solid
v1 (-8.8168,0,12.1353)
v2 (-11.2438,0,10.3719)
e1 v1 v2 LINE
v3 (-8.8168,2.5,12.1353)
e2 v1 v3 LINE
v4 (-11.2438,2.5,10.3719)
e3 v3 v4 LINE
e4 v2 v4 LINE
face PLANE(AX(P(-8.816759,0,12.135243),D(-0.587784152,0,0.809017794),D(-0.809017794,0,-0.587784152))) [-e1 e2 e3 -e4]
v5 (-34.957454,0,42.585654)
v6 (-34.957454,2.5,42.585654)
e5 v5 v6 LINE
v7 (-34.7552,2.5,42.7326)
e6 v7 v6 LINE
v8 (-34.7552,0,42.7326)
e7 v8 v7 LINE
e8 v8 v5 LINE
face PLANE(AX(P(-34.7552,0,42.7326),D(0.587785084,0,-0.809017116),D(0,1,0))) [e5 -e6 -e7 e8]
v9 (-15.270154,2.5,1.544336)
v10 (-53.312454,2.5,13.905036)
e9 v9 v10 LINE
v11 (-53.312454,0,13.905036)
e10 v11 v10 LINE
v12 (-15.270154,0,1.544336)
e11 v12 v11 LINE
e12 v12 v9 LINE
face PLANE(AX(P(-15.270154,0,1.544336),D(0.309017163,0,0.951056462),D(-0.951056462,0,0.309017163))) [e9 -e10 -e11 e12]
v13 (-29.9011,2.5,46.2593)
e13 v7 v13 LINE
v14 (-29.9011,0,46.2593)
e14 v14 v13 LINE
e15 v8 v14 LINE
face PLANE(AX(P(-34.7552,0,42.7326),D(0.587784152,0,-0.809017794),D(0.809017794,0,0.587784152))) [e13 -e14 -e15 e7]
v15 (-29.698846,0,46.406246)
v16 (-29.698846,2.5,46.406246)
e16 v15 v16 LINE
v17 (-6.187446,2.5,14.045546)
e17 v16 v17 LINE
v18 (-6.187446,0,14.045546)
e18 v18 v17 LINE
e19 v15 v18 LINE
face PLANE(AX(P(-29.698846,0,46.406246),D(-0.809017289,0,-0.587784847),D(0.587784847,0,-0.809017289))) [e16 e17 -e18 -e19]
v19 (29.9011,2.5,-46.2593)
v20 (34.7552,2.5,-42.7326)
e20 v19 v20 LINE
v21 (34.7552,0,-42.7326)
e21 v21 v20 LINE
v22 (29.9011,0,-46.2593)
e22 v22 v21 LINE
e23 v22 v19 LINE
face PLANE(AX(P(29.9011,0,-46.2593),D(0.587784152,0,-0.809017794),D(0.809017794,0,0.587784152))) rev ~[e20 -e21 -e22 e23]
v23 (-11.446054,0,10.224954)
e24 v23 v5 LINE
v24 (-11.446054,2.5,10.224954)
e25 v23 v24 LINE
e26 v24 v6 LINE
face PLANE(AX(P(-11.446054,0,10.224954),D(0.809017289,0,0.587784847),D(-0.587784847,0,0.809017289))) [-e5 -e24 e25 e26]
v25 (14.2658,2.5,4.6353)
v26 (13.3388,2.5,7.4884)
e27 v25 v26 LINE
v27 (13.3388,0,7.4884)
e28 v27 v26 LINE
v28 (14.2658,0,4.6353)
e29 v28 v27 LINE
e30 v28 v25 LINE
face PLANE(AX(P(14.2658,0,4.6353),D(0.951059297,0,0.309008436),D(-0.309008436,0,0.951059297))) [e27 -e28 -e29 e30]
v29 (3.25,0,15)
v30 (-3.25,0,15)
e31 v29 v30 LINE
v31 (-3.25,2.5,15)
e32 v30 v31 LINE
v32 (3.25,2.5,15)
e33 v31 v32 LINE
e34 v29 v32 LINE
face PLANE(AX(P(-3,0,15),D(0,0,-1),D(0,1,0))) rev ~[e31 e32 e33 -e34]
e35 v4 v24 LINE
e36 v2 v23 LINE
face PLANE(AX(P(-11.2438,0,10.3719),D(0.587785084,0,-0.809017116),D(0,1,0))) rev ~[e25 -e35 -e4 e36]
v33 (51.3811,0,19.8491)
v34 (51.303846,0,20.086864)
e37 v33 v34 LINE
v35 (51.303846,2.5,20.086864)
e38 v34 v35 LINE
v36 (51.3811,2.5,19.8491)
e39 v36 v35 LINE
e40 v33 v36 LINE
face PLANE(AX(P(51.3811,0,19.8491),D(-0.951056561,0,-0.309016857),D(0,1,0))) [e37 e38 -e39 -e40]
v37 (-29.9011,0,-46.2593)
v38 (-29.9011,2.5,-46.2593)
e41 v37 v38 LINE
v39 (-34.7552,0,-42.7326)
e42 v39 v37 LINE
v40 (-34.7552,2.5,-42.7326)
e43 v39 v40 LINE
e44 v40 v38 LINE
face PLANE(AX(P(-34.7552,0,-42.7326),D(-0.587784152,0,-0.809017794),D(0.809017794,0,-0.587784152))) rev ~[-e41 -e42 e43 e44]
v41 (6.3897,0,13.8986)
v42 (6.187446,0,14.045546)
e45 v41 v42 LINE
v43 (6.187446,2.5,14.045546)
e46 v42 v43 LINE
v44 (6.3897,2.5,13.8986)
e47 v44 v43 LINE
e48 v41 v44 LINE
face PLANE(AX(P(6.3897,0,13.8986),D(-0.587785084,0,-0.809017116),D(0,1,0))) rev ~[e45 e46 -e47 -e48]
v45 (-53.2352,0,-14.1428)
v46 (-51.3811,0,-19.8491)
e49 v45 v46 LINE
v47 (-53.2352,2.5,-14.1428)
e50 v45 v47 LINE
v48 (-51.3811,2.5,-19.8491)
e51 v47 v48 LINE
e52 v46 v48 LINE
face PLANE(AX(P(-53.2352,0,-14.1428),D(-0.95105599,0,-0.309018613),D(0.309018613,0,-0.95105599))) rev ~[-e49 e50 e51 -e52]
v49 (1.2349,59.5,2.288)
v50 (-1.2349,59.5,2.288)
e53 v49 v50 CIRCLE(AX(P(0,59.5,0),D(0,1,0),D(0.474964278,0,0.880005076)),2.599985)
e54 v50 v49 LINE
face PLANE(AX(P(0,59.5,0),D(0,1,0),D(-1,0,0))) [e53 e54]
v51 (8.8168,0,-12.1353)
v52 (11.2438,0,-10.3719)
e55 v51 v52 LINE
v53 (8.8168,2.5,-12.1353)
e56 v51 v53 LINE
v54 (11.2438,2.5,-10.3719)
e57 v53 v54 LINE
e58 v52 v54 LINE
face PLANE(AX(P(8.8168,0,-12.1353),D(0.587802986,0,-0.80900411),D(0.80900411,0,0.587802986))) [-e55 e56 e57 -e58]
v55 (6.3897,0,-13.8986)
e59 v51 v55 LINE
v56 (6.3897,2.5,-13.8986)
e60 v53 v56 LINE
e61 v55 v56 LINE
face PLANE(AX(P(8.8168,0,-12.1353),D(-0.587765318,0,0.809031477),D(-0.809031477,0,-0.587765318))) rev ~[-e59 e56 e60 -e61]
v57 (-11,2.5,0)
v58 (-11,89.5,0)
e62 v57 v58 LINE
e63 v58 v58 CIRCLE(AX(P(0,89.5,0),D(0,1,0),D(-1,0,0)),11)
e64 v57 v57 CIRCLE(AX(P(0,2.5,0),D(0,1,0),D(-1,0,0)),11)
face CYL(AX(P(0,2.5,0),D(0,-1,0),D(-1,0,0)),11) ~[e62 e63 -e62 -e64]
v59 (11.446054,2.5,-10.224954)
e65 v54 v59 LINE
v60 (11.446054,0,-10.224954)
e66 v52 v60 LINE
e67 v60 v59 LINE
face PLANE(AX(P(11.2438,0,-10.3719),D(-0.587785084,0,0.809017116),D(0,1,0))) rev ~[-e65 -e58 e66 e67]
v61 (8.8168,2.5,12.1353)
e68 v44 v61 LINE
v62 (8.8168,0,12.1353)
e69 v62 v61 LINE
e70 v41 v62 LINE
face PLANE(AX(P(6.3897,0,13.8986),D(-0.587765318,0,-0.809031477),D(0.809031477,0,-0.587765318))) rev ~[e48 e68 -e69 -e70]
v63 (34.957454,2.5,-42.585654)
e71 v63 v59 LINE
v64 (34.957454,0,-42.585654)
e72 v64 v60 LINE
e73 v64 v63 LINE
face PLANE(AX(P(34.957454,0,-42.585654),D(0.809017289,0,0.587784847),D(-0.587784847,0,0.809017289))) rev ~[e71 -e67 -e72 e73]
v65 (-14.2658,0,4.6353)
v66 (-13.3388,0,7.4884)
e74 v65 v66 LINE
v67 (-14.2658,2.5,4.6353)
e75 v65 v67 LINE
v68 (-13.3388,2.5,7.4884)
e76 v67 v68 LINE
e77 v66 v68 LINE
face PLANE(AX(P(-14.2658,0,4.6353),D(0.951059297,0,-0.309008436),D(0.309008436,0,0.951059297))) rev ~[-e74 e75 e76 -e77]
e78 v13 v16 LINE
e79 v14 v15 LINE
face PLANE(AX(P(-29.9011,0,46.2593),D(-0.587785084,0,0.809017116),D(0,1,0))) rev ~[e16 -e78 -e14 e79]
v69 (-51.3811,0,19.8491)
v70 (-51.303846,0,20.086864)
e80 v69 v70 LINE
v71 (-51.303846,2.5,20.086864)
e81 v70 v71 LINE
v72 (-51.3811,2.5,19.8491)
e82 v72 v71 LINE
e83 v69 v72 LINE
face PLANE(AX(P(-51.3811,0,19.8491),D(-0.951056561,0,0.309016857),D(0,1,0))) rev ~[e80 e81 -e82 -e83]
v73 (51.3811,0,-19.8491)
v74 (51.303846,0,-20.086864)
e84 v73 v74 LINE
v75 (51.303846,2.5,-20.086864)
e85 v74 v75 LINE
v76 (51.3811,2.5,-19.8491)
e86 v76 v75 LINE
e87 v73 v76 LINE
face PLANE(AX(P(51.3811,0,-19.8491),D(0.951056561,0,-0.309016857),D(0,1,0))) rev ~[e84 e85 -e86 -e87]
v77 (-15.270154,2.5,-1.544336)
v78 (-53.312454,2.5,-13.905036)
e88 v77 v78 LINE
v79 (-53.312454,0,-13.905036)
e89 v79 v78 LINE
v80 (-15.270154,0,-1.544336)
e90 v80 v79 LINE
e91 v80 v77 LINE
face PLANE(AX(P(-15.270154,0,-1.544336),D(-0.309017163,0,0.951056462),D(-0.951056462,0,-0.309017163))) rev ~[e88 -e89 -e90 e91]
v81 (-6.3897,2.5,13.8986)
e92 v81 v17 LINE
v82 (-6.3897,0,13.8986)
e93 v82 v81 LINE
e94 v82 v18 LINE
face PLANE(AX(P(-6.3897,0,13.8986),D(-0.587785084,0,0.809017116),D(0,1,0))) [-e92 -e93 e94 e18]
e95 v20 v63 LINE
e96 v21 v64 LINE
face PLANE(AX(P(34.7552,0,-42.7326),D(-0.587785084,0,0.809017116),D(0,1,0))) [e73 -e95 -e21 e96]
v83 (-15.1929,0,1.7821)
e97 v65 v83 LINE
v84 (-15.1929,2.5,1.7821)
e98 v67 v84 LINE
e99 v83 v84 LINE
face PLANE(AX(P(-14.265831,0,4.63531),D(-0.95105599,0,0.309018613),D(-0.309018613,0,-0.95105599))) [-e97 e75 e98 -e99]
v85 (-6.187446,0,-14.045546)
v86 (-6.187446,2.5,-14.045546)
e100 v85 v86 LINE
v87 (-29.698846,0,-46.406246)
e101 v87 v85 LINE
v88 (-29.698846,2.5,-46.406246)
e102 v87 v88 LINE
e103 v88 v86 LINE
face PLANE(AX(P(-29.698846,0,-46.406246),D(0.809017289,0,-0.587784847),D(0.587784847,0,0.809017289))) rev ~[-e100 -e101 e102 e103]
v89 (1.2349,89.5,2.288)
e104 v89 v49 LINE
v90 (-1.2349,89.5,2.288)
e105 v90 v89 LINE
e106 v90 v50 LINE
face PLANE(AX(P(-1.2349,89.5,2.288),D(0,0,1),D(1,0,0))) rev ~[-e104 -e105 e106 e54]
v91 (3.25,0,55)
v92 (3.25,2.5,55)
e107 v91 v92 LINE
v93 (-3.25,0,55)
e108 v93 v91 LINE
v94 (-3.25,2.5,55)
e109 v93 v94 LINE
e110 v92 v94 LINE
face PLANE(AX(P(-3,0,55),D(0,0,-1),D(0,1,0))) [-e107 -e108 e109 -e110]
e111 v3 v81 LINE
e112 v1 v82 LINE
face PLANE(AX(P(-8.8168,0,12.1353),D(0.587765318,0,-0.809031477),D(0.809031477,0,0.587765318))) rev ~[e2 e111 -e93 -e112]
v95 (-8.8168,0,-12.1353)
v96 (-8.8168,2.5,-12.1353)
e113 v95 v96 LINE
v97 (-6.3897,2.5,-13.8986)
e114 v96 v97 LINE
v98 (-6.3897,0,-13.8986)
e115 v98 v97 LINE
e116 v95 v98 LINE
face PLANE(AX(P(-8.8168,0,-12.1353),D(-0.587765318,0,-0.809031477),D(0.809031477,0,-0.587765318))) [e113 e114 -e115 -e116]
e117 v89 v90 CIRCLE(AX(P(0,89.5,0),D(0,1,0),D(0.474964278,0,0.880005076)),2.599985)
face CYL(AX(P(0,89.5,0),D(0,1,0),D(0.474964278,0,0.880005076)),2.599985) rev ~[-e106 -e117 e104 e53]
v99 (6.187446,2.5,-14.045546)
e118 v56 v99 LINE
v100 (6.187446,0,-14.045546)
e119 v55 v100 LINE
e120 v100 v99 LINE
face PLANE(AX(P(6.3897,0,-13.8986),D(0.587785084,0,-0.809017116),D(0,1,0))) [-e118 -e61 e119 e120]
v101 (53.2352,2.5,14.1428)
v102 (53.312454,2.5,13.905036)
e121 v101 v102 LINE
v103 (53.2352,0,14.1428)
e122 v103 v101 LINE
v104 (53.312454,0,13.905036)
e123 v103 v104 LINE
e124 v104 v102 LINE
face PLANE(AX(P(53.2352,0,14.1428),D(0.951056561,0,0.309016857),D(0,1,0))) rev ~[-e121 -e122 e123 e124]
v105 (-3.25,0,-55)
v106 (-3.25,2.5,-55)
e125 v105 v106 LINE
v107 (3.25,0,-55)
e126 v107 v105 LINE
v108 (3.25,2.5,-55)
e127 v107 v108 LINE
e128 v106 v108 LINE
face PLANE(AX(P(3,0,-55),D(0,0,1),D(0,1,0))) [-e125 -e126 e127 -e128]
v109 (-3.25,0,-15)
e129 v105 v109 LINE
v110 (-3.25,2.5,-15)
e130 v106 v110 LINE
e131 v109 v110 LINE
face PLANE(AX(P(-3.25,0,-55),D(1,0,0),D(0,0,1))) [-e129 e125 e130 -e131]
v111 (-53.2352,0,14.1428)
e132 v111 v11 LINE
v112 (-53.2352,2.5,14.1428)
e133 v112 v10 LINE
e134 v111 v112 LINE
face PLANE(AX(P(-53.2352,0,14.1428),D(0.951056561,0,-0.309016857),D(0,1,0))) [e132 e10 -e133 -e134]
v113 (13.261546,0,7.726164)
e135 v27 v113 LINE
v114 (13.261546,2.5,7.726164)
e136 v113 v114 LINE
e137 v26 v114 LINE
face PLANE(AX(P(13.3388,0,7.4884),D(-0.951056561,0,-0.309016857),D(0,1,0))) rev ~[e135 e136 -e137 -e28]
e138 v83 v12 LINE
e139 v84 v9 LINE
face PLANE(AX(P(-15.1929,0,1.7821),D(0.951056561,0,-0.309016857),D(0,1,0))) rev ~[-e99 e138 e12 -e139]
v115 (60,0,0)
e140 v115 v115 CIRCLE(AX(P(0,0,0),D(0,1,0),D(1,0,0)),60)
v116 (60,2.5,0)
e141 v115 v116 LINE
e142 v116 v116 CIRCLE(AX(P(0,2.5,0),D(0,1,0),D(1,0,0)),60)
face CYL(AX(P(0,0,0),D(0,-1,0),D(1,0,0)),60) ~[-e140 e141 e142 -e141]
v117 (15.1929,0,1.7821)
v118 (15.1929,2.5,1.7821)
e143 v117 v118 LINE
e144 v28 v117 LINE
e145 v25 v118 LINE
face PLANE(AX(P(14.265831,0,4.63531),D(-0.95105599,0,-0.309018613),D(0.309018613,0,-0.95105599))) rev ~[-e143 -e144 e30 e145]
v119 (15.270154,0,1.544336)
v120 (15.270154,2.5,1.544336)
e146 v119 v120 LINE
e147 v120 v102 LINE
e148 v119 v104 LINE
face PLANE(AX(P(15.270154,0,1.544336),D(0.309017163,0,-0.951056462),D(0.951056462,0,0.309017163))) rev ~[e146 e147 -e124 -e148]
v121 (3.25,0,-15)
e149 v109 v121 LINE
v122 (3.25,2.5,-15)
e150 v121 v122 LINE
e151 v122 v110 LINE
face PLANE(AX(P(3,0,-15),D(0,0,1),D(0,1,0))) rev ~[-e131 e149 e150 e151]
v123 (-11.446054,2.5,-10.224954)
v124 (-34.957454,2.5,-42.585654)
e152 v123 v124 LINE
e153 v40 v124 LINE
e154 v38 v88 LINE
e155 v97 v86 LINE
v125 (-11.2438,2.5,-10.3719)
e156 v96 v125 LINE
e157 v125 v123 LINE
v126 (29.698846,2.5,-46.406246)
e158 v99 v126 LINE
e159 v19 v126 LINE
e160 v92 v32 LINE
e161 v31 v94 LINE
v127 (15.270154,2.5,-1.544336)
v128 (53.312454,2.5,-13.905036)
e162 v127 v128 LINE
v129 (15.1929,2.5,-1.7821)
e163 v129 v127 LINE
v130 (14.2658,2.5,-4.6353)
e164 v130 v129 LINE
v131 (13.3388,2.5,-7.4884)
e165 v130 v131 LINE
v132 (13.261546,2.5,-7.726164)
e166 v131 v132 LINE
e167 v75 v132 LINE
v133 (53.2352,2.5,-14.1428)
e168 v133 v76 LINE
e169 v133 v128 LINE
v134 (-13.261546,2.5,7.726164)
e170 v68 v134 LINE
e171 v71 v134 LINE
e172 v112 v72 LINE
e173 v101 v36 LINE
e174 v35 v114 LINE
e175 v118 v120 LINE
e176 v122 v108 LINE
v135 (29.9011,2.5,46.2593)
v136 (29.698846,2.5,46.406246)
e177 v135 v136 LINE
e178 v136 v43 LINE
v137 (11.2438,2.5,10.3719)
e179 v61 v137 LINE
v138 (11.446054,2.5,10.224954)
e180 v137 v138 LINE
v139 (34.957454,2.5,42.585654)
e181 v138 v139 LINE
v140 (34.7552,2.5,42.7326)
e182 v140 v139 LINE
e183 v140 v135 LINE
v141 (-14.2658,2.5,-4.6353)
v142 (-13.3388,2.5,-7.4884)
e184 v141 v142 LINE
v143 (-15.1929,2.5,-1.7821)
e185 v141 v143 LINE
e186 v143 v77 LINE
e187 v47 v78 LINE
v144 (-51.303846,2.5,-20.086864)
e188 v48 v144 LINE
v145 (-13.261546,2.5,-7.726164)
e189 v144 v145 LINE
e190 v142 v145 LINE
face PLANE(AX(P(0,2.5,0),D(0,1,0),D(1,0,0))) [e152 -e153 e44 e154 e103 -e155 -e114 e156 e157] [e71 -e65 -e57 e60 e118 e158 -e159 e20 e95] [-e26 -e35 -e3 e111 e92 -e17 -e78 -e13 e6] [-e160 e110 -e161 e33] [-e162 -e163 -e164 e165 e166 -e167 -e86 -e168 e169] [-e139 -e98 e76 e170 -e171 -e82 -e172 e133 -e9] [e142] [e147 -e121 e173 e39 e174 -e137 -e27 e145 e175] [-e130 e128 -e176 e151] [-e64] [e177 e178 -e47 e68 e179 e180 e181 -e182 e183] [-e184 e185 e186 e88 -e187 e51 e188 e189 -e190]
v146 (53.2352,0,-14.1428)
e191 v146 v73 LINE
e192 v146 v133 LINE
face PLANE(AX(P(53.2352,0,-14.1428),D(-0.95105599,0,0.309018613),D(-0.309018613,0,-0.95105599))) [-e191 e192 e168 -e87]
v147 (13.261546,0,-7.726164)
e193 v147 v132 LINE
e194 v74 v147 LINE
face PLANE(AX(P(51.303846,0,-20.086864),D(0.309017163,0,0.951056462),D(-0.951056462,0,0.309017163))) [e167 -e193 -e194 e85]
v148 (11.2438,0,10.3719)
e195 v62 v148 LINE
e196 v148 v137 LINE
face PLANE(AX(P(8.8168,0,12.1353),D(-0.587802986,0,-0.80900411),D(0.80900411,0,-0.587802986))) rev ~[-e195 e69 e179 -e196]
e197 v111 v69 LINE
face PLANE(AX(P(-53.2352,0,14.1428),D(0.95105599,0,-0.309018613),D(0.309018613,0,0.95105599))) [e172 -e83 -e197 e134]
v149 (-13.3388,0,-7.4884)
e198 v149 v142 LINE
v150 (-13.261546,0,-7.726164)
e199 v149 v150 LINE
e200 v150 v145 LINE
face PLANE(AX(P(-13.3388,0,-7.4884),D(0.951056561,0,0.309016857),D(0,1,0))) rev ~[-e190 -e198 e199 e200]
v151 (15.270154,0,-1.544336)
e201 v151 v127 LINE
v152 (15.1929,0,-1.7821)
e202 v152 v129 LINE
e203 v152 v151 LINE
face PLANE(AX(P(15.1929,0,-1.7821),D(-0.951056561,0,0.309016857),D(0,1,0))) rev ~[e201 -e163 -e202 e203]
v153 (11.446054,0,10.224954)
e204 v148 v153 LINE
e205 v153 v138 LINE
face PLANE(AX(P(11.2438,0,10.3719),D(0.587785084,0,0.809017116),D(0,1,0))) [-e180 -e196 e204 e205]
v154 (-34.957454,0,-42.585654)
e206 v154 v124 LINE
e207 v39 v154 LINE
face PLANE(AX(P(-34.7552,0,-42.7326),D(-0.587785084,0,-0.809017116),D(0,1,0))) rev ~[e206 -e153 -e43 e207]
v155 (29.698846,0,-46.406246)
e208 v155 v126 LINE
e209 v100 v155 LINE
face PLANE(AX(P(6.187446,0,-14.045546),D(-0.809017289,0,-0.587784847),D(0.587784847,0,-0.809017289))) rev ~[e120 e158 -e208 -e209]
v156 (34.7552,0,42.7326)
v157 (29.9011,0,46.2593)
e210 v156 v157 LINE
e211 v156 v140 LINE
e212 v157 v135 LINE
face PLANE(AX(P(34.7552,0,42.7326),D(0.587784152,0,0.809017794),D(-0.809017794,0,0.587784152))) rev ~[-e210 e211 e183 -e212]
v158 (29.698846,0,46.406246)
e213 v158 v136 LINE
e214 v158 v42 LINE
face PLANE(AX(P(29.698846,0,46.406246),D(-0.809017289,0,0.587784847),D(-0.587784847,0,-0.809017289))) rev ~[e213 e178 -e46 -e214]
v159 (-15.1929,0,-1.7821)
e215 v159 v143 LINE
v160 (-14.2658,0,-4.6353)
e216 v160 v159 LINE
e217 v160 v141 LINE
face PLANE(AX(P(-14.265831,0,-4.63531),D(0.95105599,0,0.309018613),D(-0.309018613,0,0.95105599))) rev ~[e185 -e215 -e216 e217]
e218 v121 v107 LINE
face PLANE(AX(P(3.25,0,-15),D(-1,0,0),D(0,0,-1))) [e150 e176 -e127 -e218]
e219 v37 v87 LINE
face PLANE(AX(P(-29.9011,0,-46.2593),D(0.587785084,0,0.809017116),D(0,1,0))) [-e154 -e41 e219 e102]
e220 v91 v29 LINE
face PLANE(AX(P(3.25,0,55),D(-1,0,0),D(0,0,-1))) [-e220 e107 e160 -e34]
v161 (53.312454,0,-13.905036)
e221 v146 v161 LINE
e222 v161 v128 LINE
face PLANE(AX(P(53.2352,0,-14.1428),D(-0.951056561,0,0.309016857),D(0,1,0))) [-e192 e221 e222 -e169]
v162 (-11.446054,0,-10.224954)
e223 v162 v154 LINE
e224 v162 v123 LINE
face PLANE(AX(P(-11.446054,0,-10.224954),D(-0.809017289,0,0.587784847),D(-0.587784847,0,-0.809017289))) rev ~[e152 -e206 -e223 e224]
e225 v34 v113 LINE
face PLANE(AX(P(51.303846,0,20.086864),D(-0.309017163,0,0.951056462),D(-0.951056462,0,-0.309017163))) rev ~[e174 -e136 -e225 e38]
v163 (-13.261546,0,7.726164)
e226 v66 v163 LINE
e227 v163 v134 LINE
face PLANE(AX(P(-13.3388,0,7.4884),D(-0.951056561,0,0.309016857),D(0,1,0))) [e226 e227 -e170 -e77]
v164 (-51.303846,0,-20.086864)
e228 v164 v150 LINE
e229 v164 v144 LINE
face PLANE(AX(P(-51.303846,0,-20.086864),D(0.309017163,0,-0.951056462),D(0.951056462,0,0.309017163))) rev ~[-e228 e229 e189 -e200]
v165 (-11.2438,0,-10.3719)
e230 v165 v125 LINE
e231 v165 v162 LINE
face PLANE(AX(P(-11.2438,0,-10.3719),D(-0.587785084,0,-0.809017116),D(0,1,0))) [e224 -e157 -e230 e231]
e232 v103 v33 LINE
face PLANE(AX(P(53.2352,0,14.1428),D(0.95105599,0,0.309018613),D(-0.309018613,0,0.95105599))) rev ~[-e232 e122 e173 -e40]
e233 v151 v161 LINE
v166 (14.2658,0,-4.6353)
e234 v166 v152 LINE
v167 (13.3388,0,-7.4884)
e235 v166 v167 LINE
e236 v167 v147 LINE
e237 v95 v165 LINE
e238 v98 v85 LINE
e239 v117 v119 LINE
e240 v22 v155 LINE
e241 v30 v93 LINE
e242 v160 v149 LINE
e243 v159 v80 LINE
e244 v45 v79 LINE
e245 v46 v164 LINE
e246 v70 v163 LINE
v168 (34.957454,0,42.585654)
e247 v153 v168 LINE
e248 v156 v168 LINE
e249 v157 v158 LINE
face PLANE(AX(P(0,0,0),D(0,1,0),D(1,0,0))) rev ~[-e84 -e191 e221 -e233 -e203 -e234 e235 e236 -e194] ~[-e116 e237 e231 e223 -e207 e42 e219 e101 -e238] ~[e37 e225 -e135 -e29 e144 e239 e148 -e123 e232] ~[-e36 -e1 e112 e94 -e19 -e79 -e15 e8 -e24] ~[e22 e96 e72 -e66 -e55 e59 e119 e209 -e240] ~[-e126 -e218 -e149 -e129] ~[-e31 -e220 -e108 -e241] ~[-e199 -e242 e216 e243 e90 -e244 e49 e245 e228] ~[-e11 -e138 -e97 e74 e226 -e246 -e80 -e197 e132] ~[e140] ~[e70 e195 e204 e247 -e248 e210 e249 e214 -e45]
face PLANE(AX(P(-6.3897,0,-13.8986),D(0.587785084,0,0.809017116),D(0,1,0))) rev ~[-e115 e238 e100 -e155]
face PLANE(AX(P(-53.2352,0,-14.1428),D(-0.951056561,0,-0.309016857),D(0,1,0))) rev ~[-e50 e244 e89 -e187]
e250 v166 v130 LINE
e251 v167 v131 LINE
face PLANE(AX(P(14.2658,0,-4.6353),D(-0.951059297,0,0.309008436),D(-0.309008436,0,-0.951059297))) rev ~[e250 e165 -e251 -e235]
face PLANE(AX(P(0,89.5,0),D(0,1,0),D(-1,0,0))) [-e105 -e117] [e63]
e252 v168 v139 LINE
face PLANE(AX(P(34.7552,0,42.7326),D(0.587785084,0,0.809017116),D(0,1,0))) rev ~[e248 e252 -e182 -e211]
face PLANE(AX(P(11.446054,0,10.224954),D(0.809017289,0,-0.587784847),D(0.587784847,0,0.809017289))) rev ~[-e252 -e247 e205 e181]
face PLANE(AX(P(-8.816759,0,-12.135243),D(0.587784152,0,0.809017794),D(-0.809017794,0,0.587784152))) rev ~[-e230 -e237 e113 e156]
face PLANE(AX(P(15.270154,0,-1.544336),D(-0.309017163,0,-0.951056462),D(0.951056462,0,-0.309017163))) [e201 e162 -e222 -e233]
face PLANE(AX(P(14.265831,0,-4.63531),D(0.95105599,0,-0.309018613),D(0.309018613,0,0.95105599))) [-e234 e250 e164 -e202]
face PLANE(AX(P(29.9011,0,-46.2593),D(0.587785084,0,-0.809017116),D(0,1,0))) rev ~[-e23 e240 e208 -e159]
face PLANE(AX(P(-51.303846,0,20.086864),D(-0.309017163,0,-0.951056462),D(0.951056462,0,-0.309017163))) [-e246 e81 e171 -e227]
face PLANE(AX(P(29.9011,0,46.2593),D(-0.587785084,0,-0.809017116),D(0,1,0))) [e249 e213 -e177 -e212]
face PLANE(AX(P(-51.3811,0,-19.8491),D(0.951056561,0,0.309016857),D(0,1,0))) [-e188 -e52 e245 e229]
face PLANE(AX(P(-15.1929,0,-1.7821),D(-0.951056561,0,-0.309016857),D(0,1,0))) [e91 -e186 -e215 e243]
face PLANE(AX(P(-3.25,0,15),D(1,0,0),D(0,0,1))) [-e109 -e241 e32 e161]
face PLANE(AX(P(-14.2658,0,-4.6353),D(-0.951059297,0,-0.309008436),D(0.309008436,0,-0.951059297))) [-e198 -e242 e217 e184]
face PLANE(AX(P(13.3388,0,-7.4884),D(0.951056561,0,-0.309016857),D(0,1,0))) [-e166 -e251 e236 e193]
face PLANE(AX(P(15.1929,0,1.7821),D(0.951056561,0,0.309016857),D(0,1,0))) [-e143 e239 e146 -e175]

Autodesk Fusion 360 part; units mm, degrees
sketch "Sketch1" plane through (0, 0, 0) normal (0, 1, 0) x (1, 0, 0)
  line L0 (-3, 15) -> (3, 15)
  line L1 (3, 15) -> (3, 55)
  line L2 (3, 55) -> (-3, 55)
  line L3 (-3, 55) -> (-3, 15)
  line L4 (8.8168, 12.1353) -> (11.2438, 10.3719)
  line L5 (8.8168, 12.1353) -> (6.3897, 13.8986)
  line L6 (6.3897, 13.8986) -> (29.9011, 46.2593)
  line L7 (29.9011, 46.2593) -> (34.7552, 42.7326)
  line L8 (34.7552, 42.7326) -> (11.2438, 10.3719)
  line L9 (14.2658, 4.6353) -> (13.3388, 7.4884)
  line L10 (13.3388, 7.4884) -> (15.1929, 1.7821)
  line L11 (15.1929, 1.7821) -> (53.2352, 14.1428)
  line L12 (53.2352, 14.1428) -> (51.3811, 19.8491)
  line L13 (51.3811, 19.8491) -> (13.3388, 7.4884)
  line L14 (14.2658, -4.6353) -> (13.3388, -7.4884)
  line L15 (13.3388, -7.4884) -> (15.1929, -1.7821)
  line L16 (15.1929, -1.7821) -> (53.2352, -14.1428)
  line L17 (53.2352, -14.1428) -> (51.3811, -19.8491)
  line L18 (51.3811, -19.8491) -> (13.3388, -7.4884)
  line L19 (8.8168, -12.1353) -> (11.2438, -10.3719)
  line L20 (11.2438, -10.3719) -> (34.7552, -42.7326)
  line L21 (34.7552, -42.7326) -> (29.9011, -46.2593)
  line L22 (29.9011, -46.2593) -> (6.3897, -13.8986)
  line L23 (6.3897, -13.8986) -> (8.8168, -12.1353)
  line L24 (0, -15) -> (3, -15)
  line L25 (3, -15) -> (-3, -15)
  line L26 (-3, -15) -> (-3, -55)
  line L27 (-3, -55) -> (3, -55)
  line L28 (3, -55) -> (3, -15)
  line L29 (-8.8168, -12.1353) -> (-6.3897, -13.8986)
  line L30 (-6.3897, -13.8986) -> (-11.2438, -10.3719)
  line L31 (-11.2438, -10.3719) -> (-34.7552, -42.7326)
  line L32 (-34.7552, -42.7326) -> (-29.9011, -46.2593)
  line L33 (-29.9011, -46.2593) -> (-6.3897, -13.8986)
  line L34 (-14.2658, -4.6353) -> (-13.3388, -7.4884)
  line L35 (-13.3388, -7.4884) -> (-15.1929, -1.7821)
  line L36 (-15.1929, -1.7821) -> (-53.2352, -14.1428)
  line L37 (-53.2352, -14.1428) -> (-51.3811, -19.8491)
  line L38 (-51.3811, -19.8491) -> (-13.3388, -7.4884)
  line L39 (-14.2658, 4.6353) -> (-13.3388, 7.4884)
  line L40 (-13.3388, 7.4884) -> (-15.1929, 1.7821)
  line L41 (-15.1929, 1.7821) -> (-53.2352, 14.1428)
  line L42 (-53.2352, 14.1428) -> (-51.3811, 19.8491)
  line L43 (-51.3811, 19.8491) -> (-13.3388, 7.4884)
  line L44 (-8.8168, 12.1353) -> (-6.3897, 13.8986)
  line L45 (-6.3897, 13.8986) -> (-11.2438, 10.3719)
  line L46 (-11.2438, 10.3719) -> (-34.7552, 42.7326)
  line L47 (-34.7552, 42.7326) -> (-29.9011, 46.2593)
  line L48 (-29.9011, 46.2593) -> (-6.3897, 13.8986)
  circle A0 centre (0, 0) radius 60
  dimension "d20" = 15
  dimension "d21" = 15
  dimension "d22" = 15
  dimension "d23" = 15
  dimension "d24" = 15
  dimension "d25" = 15
  dimension "d26" = 15
  dimension "d27" = 15
  dimension "d28" = 15
  dimension "d29" = 40
  dimension "d30" = 6
  dimension "d31" = 40
  dimension "d32" = 3
  dimension "d33" = 3
  dimension "d34" = 40
  dimension "d35" = 6
  dimension "d36" = 3
  dimension "d37" = 6
  dimension "d38" = 40
  dimension "d39" = 6
  dimension "d40" = 3
  dimension "d41" = 40
  dimension "d42" = 6
  dimension "d43" = 3
  dimension "d44" = 40
  dimension "d45" = 6
  dimension "d46" = 40
  dimension "d47" = 3
  dimension "d48" = 6
  dimension "d49" = 40
  dimension "d50" = 6
  dimension "d51" = 3
  dimension "d52" = 6
  dimension "d53" = 40
  dimension "d54" = 6
  dimension "d55" = 3
  dimension "d56" = 6
  dimension "d57" = 40
  dimension "d58" = 6
  dimension "d59" = 3
  dimension "d60" = 6
  dimension "d61" = 40
  dimension "d62" = 6
  dimension "d63" = 3
  dimension "d64" = 6
  dimension "d65" = 40
  dimension "d66" = 6
extrude "Extrude1" add sketch "Sketch1" along normal blind 2.5
sketch "Sketch2" plane through (0, 2.5, 0) normal (0, 1, 0) x (-1, 0, 0)
  line L0 (-11.2438, -10.3719) -> (-6.3897, -13.8986)
  line L1 (-6.3897, -13.8986) -> (-29.9011, -46.2593)
  line L2 (-29.9011, -46.2593) -> (-34.7552, -42.7326)
  line L3 (-34.7552, -42.7326) -> (-11.2438, -10.3719)
  line L4 (-29.9011, 46.2593) -> (-6.3897, 13.8986)
  line L5 (-6.3897, 13.8986) -> (-11.2438, 10.3719)
  line L6 (-11.2438, 10.3719) -> (-34.7552, 42.7326)
  line L7 (-34.7552, 42.7326) -> (-29.9011, 46.2593)
  line L8 (-3, 15) -> (-3, 55)
  line L9 (-3, 55) -> (3, 55)
  line L10 (3, 55) -> (3, 15)
  line L11 (3, 15) -> (-3, 15)
  line L12 (34.7552, -42.7326) -> (29.9011, -46.2593)
  line L13 (29.9011, -46.2593) -> (6.3897, -13.8986)
  line L14 (6.3897, -13.8986) -> (11.2438, -10.3719)
  line L15 (11.2438, -10.3719) -> (34.7552, -42.7326)
  line L16 (3, -15) -> (3, -55)
  line L17 (3, -55) -> (-3, -55)
  line L18 (-3, -55) -> (-3, -15)
  line L19 (-3, -15) -> (3, -15)
  line L20 (13.3388, 7.4884) -> (51.3811, 19.8491)
  line L21 (51.3811, 19.8491) -> (53.2352, 14.1428)
  line L22 (53.2352, 14.1428) -> (15.1929, 1.7821)
  line L23 (15.1929, 1.7821) -> (13.3388, 7.4884)
  line L24 (-13.3388, -7.4884) -> (-51.3811, -19.8491)
  line L25 (-51.3811, -19.8491) -> (-53.2352, -14.1428)
  line L26 (-53.2352, -14.1428) -> (-15.1929, -1.7821)
  line L27 (-15.1929, -1.7821) -> (-13.3388, -7.4884)
  line L28 (6.3897, 13.8986) -> (29.9011, 46.2593)
  line L29 (29.9011, 46.2593) -> (34.7552, 42.7326)
  line L30 (34.7552, 42.7326) -> (11.2438, 10.3719)
  line L31 (11.2438, 10.3719) -> (6.3897, 13.8986)
  line L32 (-53.2352, 14.1428) -> (-51.3811, 19.8491)
  line L33 (-51.3811, 19.8491) -> (-13.3388, 7.4884)
  line L34 (-13.3388, 7.4884) -> (-15.1929, 1.7821)
  line L35 (-15.1929, 1.7821) -> (-53.2352, 14.1428)
  line L36 (53.2352, -14.1428) -> (51.3811, -19.8491)
  line L37 (51.3811, -19.8491) -> (13.3388, -7.4884)
  line L38 (13.3388, -7.4884) -> (15.1929, -1.7821)
  line L39 (15.1929, -1.7821) -> (53.2352, -14.1428)
  circle A0 centre (0, 0) radius 60
  circle A1 centre (0, 0) radius 11
  dimension "d69" = 22
extrude "Extrude2" add sketch "Sketch2" along normal blind 87 contours A1
sketch "Sketch3" plane through (0, 89.5, 0) normal (0, 1, 0) x (-1, 0, 0)
  circle A0 centre (0, 0) radius 11
  arc A1 (-1.2349, 2.288) -> (1.2349, 2.288) centre (0, 0) ccw
  line L0 (1.2349, 2.288) -> (-1.2349, 2.288)
extrude "Extrude3" cut sketch "Sketch3" against normal blind 30 contours A1 L0
extrude "Extrude4" cut 1 faces at (14.2269, 0.8333, -24.6855) along direction (-0.809017, 0, -0.587785) blind 0.25
extrude "Extrude5" cut 1 faces at (-3, 0.8333, -41.6667) along direction (-1, 0, 0) blind 0.25
extrude "Extrude6" cut 1 faces at (-19.081, 0.8333, -21.1588) along direction (-0.809017, 0, 0.587785) blind 0.25
extrude "Extrude7" cut 1 faces at (-27.8737, 0.8333, -5.9023) along direction (-0.309017, 0, 0.951057) blind 0.25
extrude "Extrude8" cut 1 faces at (-38.7003, 0.8333, 15.7289) along direction (0.309017, 0, 0.951057) blind 0.25
extrude "Extrude9" cut 1 faces at (-22.064, 0.8333, 35.4724) along direction (0.809017, 0, 0.587785) blind 0.25
extrude "Extrude10" cut 1 faces at (3, 0.8333, 41.6667) along direction (1, 0, 0) blind 0.25
extrude "Extrude11" cut 1 faces at (19.081, 0.8333, 21.1588) along direction (0.809017, 0, -0.587785) blind 0.25
extrude "Extrude12" cut 1 faces at (27.8737, 0.8333, 5.9023) along direction (0.309017, 0, -0.951057) blind 0.25
extrude "Extrude13" cut 1 faces at (38.7003, 0.8333, -15.7289) along direction (-0.309017, 0, -0.951057) blind 0.25
extrude "Extrude14" cut 1 faces at (27.8737, 0.8333, -5.9023) along direction (0.309017, 0, 0.951057) blind 0.25
extrude "Extrude15" cut 1 faces at (38.7003, 0.8333, 15.7289) along direction (-0.309017, 0, 0.951057) blind 0.25
extrude "Extrude16" cut 1 faces at (22.064, 0.8333, 35.4724) along direction (-0.809017, 0, 0.587785) blind 0.25
extrude "Extrude17" cut 1 faces at (-3, 0.8333, 28.3333) along direction (-1, 0, 0) blind 0.25
extrude "Extrude18" cut 1 faces at (-19.081, 0.8333, 21.1588) along direction (-0.809017, 0, -0.587785) blind 0.25
extrude "Extrude19" cut 1 faces at (-27.8737, 0.8333, 5.9023) along direction (-0.309017, 0, -0.951057) blind 0.25
extrude "Extrude20" cut 1 faces at (-38.7003, 0.8333, -15.7289) along direction (0.309017, 0, -0.951057) blind 0.25
extrude "Extrude21" cut 1 faces at (-22.064, 0.8333, -35.4724) along direction (0.809017, 0, -0.587785) blind 0.25
extrude "Extrude22" cut 1 faces at (3, 0.8333, -28.3333) along direction (1, 0, 0) blind 0.25
extrude "Extrude23" cut 1 faces at (26.9181, 0.8333, -31.9457) along direction (0.809017, 0, 0.587785) blind 0.25
